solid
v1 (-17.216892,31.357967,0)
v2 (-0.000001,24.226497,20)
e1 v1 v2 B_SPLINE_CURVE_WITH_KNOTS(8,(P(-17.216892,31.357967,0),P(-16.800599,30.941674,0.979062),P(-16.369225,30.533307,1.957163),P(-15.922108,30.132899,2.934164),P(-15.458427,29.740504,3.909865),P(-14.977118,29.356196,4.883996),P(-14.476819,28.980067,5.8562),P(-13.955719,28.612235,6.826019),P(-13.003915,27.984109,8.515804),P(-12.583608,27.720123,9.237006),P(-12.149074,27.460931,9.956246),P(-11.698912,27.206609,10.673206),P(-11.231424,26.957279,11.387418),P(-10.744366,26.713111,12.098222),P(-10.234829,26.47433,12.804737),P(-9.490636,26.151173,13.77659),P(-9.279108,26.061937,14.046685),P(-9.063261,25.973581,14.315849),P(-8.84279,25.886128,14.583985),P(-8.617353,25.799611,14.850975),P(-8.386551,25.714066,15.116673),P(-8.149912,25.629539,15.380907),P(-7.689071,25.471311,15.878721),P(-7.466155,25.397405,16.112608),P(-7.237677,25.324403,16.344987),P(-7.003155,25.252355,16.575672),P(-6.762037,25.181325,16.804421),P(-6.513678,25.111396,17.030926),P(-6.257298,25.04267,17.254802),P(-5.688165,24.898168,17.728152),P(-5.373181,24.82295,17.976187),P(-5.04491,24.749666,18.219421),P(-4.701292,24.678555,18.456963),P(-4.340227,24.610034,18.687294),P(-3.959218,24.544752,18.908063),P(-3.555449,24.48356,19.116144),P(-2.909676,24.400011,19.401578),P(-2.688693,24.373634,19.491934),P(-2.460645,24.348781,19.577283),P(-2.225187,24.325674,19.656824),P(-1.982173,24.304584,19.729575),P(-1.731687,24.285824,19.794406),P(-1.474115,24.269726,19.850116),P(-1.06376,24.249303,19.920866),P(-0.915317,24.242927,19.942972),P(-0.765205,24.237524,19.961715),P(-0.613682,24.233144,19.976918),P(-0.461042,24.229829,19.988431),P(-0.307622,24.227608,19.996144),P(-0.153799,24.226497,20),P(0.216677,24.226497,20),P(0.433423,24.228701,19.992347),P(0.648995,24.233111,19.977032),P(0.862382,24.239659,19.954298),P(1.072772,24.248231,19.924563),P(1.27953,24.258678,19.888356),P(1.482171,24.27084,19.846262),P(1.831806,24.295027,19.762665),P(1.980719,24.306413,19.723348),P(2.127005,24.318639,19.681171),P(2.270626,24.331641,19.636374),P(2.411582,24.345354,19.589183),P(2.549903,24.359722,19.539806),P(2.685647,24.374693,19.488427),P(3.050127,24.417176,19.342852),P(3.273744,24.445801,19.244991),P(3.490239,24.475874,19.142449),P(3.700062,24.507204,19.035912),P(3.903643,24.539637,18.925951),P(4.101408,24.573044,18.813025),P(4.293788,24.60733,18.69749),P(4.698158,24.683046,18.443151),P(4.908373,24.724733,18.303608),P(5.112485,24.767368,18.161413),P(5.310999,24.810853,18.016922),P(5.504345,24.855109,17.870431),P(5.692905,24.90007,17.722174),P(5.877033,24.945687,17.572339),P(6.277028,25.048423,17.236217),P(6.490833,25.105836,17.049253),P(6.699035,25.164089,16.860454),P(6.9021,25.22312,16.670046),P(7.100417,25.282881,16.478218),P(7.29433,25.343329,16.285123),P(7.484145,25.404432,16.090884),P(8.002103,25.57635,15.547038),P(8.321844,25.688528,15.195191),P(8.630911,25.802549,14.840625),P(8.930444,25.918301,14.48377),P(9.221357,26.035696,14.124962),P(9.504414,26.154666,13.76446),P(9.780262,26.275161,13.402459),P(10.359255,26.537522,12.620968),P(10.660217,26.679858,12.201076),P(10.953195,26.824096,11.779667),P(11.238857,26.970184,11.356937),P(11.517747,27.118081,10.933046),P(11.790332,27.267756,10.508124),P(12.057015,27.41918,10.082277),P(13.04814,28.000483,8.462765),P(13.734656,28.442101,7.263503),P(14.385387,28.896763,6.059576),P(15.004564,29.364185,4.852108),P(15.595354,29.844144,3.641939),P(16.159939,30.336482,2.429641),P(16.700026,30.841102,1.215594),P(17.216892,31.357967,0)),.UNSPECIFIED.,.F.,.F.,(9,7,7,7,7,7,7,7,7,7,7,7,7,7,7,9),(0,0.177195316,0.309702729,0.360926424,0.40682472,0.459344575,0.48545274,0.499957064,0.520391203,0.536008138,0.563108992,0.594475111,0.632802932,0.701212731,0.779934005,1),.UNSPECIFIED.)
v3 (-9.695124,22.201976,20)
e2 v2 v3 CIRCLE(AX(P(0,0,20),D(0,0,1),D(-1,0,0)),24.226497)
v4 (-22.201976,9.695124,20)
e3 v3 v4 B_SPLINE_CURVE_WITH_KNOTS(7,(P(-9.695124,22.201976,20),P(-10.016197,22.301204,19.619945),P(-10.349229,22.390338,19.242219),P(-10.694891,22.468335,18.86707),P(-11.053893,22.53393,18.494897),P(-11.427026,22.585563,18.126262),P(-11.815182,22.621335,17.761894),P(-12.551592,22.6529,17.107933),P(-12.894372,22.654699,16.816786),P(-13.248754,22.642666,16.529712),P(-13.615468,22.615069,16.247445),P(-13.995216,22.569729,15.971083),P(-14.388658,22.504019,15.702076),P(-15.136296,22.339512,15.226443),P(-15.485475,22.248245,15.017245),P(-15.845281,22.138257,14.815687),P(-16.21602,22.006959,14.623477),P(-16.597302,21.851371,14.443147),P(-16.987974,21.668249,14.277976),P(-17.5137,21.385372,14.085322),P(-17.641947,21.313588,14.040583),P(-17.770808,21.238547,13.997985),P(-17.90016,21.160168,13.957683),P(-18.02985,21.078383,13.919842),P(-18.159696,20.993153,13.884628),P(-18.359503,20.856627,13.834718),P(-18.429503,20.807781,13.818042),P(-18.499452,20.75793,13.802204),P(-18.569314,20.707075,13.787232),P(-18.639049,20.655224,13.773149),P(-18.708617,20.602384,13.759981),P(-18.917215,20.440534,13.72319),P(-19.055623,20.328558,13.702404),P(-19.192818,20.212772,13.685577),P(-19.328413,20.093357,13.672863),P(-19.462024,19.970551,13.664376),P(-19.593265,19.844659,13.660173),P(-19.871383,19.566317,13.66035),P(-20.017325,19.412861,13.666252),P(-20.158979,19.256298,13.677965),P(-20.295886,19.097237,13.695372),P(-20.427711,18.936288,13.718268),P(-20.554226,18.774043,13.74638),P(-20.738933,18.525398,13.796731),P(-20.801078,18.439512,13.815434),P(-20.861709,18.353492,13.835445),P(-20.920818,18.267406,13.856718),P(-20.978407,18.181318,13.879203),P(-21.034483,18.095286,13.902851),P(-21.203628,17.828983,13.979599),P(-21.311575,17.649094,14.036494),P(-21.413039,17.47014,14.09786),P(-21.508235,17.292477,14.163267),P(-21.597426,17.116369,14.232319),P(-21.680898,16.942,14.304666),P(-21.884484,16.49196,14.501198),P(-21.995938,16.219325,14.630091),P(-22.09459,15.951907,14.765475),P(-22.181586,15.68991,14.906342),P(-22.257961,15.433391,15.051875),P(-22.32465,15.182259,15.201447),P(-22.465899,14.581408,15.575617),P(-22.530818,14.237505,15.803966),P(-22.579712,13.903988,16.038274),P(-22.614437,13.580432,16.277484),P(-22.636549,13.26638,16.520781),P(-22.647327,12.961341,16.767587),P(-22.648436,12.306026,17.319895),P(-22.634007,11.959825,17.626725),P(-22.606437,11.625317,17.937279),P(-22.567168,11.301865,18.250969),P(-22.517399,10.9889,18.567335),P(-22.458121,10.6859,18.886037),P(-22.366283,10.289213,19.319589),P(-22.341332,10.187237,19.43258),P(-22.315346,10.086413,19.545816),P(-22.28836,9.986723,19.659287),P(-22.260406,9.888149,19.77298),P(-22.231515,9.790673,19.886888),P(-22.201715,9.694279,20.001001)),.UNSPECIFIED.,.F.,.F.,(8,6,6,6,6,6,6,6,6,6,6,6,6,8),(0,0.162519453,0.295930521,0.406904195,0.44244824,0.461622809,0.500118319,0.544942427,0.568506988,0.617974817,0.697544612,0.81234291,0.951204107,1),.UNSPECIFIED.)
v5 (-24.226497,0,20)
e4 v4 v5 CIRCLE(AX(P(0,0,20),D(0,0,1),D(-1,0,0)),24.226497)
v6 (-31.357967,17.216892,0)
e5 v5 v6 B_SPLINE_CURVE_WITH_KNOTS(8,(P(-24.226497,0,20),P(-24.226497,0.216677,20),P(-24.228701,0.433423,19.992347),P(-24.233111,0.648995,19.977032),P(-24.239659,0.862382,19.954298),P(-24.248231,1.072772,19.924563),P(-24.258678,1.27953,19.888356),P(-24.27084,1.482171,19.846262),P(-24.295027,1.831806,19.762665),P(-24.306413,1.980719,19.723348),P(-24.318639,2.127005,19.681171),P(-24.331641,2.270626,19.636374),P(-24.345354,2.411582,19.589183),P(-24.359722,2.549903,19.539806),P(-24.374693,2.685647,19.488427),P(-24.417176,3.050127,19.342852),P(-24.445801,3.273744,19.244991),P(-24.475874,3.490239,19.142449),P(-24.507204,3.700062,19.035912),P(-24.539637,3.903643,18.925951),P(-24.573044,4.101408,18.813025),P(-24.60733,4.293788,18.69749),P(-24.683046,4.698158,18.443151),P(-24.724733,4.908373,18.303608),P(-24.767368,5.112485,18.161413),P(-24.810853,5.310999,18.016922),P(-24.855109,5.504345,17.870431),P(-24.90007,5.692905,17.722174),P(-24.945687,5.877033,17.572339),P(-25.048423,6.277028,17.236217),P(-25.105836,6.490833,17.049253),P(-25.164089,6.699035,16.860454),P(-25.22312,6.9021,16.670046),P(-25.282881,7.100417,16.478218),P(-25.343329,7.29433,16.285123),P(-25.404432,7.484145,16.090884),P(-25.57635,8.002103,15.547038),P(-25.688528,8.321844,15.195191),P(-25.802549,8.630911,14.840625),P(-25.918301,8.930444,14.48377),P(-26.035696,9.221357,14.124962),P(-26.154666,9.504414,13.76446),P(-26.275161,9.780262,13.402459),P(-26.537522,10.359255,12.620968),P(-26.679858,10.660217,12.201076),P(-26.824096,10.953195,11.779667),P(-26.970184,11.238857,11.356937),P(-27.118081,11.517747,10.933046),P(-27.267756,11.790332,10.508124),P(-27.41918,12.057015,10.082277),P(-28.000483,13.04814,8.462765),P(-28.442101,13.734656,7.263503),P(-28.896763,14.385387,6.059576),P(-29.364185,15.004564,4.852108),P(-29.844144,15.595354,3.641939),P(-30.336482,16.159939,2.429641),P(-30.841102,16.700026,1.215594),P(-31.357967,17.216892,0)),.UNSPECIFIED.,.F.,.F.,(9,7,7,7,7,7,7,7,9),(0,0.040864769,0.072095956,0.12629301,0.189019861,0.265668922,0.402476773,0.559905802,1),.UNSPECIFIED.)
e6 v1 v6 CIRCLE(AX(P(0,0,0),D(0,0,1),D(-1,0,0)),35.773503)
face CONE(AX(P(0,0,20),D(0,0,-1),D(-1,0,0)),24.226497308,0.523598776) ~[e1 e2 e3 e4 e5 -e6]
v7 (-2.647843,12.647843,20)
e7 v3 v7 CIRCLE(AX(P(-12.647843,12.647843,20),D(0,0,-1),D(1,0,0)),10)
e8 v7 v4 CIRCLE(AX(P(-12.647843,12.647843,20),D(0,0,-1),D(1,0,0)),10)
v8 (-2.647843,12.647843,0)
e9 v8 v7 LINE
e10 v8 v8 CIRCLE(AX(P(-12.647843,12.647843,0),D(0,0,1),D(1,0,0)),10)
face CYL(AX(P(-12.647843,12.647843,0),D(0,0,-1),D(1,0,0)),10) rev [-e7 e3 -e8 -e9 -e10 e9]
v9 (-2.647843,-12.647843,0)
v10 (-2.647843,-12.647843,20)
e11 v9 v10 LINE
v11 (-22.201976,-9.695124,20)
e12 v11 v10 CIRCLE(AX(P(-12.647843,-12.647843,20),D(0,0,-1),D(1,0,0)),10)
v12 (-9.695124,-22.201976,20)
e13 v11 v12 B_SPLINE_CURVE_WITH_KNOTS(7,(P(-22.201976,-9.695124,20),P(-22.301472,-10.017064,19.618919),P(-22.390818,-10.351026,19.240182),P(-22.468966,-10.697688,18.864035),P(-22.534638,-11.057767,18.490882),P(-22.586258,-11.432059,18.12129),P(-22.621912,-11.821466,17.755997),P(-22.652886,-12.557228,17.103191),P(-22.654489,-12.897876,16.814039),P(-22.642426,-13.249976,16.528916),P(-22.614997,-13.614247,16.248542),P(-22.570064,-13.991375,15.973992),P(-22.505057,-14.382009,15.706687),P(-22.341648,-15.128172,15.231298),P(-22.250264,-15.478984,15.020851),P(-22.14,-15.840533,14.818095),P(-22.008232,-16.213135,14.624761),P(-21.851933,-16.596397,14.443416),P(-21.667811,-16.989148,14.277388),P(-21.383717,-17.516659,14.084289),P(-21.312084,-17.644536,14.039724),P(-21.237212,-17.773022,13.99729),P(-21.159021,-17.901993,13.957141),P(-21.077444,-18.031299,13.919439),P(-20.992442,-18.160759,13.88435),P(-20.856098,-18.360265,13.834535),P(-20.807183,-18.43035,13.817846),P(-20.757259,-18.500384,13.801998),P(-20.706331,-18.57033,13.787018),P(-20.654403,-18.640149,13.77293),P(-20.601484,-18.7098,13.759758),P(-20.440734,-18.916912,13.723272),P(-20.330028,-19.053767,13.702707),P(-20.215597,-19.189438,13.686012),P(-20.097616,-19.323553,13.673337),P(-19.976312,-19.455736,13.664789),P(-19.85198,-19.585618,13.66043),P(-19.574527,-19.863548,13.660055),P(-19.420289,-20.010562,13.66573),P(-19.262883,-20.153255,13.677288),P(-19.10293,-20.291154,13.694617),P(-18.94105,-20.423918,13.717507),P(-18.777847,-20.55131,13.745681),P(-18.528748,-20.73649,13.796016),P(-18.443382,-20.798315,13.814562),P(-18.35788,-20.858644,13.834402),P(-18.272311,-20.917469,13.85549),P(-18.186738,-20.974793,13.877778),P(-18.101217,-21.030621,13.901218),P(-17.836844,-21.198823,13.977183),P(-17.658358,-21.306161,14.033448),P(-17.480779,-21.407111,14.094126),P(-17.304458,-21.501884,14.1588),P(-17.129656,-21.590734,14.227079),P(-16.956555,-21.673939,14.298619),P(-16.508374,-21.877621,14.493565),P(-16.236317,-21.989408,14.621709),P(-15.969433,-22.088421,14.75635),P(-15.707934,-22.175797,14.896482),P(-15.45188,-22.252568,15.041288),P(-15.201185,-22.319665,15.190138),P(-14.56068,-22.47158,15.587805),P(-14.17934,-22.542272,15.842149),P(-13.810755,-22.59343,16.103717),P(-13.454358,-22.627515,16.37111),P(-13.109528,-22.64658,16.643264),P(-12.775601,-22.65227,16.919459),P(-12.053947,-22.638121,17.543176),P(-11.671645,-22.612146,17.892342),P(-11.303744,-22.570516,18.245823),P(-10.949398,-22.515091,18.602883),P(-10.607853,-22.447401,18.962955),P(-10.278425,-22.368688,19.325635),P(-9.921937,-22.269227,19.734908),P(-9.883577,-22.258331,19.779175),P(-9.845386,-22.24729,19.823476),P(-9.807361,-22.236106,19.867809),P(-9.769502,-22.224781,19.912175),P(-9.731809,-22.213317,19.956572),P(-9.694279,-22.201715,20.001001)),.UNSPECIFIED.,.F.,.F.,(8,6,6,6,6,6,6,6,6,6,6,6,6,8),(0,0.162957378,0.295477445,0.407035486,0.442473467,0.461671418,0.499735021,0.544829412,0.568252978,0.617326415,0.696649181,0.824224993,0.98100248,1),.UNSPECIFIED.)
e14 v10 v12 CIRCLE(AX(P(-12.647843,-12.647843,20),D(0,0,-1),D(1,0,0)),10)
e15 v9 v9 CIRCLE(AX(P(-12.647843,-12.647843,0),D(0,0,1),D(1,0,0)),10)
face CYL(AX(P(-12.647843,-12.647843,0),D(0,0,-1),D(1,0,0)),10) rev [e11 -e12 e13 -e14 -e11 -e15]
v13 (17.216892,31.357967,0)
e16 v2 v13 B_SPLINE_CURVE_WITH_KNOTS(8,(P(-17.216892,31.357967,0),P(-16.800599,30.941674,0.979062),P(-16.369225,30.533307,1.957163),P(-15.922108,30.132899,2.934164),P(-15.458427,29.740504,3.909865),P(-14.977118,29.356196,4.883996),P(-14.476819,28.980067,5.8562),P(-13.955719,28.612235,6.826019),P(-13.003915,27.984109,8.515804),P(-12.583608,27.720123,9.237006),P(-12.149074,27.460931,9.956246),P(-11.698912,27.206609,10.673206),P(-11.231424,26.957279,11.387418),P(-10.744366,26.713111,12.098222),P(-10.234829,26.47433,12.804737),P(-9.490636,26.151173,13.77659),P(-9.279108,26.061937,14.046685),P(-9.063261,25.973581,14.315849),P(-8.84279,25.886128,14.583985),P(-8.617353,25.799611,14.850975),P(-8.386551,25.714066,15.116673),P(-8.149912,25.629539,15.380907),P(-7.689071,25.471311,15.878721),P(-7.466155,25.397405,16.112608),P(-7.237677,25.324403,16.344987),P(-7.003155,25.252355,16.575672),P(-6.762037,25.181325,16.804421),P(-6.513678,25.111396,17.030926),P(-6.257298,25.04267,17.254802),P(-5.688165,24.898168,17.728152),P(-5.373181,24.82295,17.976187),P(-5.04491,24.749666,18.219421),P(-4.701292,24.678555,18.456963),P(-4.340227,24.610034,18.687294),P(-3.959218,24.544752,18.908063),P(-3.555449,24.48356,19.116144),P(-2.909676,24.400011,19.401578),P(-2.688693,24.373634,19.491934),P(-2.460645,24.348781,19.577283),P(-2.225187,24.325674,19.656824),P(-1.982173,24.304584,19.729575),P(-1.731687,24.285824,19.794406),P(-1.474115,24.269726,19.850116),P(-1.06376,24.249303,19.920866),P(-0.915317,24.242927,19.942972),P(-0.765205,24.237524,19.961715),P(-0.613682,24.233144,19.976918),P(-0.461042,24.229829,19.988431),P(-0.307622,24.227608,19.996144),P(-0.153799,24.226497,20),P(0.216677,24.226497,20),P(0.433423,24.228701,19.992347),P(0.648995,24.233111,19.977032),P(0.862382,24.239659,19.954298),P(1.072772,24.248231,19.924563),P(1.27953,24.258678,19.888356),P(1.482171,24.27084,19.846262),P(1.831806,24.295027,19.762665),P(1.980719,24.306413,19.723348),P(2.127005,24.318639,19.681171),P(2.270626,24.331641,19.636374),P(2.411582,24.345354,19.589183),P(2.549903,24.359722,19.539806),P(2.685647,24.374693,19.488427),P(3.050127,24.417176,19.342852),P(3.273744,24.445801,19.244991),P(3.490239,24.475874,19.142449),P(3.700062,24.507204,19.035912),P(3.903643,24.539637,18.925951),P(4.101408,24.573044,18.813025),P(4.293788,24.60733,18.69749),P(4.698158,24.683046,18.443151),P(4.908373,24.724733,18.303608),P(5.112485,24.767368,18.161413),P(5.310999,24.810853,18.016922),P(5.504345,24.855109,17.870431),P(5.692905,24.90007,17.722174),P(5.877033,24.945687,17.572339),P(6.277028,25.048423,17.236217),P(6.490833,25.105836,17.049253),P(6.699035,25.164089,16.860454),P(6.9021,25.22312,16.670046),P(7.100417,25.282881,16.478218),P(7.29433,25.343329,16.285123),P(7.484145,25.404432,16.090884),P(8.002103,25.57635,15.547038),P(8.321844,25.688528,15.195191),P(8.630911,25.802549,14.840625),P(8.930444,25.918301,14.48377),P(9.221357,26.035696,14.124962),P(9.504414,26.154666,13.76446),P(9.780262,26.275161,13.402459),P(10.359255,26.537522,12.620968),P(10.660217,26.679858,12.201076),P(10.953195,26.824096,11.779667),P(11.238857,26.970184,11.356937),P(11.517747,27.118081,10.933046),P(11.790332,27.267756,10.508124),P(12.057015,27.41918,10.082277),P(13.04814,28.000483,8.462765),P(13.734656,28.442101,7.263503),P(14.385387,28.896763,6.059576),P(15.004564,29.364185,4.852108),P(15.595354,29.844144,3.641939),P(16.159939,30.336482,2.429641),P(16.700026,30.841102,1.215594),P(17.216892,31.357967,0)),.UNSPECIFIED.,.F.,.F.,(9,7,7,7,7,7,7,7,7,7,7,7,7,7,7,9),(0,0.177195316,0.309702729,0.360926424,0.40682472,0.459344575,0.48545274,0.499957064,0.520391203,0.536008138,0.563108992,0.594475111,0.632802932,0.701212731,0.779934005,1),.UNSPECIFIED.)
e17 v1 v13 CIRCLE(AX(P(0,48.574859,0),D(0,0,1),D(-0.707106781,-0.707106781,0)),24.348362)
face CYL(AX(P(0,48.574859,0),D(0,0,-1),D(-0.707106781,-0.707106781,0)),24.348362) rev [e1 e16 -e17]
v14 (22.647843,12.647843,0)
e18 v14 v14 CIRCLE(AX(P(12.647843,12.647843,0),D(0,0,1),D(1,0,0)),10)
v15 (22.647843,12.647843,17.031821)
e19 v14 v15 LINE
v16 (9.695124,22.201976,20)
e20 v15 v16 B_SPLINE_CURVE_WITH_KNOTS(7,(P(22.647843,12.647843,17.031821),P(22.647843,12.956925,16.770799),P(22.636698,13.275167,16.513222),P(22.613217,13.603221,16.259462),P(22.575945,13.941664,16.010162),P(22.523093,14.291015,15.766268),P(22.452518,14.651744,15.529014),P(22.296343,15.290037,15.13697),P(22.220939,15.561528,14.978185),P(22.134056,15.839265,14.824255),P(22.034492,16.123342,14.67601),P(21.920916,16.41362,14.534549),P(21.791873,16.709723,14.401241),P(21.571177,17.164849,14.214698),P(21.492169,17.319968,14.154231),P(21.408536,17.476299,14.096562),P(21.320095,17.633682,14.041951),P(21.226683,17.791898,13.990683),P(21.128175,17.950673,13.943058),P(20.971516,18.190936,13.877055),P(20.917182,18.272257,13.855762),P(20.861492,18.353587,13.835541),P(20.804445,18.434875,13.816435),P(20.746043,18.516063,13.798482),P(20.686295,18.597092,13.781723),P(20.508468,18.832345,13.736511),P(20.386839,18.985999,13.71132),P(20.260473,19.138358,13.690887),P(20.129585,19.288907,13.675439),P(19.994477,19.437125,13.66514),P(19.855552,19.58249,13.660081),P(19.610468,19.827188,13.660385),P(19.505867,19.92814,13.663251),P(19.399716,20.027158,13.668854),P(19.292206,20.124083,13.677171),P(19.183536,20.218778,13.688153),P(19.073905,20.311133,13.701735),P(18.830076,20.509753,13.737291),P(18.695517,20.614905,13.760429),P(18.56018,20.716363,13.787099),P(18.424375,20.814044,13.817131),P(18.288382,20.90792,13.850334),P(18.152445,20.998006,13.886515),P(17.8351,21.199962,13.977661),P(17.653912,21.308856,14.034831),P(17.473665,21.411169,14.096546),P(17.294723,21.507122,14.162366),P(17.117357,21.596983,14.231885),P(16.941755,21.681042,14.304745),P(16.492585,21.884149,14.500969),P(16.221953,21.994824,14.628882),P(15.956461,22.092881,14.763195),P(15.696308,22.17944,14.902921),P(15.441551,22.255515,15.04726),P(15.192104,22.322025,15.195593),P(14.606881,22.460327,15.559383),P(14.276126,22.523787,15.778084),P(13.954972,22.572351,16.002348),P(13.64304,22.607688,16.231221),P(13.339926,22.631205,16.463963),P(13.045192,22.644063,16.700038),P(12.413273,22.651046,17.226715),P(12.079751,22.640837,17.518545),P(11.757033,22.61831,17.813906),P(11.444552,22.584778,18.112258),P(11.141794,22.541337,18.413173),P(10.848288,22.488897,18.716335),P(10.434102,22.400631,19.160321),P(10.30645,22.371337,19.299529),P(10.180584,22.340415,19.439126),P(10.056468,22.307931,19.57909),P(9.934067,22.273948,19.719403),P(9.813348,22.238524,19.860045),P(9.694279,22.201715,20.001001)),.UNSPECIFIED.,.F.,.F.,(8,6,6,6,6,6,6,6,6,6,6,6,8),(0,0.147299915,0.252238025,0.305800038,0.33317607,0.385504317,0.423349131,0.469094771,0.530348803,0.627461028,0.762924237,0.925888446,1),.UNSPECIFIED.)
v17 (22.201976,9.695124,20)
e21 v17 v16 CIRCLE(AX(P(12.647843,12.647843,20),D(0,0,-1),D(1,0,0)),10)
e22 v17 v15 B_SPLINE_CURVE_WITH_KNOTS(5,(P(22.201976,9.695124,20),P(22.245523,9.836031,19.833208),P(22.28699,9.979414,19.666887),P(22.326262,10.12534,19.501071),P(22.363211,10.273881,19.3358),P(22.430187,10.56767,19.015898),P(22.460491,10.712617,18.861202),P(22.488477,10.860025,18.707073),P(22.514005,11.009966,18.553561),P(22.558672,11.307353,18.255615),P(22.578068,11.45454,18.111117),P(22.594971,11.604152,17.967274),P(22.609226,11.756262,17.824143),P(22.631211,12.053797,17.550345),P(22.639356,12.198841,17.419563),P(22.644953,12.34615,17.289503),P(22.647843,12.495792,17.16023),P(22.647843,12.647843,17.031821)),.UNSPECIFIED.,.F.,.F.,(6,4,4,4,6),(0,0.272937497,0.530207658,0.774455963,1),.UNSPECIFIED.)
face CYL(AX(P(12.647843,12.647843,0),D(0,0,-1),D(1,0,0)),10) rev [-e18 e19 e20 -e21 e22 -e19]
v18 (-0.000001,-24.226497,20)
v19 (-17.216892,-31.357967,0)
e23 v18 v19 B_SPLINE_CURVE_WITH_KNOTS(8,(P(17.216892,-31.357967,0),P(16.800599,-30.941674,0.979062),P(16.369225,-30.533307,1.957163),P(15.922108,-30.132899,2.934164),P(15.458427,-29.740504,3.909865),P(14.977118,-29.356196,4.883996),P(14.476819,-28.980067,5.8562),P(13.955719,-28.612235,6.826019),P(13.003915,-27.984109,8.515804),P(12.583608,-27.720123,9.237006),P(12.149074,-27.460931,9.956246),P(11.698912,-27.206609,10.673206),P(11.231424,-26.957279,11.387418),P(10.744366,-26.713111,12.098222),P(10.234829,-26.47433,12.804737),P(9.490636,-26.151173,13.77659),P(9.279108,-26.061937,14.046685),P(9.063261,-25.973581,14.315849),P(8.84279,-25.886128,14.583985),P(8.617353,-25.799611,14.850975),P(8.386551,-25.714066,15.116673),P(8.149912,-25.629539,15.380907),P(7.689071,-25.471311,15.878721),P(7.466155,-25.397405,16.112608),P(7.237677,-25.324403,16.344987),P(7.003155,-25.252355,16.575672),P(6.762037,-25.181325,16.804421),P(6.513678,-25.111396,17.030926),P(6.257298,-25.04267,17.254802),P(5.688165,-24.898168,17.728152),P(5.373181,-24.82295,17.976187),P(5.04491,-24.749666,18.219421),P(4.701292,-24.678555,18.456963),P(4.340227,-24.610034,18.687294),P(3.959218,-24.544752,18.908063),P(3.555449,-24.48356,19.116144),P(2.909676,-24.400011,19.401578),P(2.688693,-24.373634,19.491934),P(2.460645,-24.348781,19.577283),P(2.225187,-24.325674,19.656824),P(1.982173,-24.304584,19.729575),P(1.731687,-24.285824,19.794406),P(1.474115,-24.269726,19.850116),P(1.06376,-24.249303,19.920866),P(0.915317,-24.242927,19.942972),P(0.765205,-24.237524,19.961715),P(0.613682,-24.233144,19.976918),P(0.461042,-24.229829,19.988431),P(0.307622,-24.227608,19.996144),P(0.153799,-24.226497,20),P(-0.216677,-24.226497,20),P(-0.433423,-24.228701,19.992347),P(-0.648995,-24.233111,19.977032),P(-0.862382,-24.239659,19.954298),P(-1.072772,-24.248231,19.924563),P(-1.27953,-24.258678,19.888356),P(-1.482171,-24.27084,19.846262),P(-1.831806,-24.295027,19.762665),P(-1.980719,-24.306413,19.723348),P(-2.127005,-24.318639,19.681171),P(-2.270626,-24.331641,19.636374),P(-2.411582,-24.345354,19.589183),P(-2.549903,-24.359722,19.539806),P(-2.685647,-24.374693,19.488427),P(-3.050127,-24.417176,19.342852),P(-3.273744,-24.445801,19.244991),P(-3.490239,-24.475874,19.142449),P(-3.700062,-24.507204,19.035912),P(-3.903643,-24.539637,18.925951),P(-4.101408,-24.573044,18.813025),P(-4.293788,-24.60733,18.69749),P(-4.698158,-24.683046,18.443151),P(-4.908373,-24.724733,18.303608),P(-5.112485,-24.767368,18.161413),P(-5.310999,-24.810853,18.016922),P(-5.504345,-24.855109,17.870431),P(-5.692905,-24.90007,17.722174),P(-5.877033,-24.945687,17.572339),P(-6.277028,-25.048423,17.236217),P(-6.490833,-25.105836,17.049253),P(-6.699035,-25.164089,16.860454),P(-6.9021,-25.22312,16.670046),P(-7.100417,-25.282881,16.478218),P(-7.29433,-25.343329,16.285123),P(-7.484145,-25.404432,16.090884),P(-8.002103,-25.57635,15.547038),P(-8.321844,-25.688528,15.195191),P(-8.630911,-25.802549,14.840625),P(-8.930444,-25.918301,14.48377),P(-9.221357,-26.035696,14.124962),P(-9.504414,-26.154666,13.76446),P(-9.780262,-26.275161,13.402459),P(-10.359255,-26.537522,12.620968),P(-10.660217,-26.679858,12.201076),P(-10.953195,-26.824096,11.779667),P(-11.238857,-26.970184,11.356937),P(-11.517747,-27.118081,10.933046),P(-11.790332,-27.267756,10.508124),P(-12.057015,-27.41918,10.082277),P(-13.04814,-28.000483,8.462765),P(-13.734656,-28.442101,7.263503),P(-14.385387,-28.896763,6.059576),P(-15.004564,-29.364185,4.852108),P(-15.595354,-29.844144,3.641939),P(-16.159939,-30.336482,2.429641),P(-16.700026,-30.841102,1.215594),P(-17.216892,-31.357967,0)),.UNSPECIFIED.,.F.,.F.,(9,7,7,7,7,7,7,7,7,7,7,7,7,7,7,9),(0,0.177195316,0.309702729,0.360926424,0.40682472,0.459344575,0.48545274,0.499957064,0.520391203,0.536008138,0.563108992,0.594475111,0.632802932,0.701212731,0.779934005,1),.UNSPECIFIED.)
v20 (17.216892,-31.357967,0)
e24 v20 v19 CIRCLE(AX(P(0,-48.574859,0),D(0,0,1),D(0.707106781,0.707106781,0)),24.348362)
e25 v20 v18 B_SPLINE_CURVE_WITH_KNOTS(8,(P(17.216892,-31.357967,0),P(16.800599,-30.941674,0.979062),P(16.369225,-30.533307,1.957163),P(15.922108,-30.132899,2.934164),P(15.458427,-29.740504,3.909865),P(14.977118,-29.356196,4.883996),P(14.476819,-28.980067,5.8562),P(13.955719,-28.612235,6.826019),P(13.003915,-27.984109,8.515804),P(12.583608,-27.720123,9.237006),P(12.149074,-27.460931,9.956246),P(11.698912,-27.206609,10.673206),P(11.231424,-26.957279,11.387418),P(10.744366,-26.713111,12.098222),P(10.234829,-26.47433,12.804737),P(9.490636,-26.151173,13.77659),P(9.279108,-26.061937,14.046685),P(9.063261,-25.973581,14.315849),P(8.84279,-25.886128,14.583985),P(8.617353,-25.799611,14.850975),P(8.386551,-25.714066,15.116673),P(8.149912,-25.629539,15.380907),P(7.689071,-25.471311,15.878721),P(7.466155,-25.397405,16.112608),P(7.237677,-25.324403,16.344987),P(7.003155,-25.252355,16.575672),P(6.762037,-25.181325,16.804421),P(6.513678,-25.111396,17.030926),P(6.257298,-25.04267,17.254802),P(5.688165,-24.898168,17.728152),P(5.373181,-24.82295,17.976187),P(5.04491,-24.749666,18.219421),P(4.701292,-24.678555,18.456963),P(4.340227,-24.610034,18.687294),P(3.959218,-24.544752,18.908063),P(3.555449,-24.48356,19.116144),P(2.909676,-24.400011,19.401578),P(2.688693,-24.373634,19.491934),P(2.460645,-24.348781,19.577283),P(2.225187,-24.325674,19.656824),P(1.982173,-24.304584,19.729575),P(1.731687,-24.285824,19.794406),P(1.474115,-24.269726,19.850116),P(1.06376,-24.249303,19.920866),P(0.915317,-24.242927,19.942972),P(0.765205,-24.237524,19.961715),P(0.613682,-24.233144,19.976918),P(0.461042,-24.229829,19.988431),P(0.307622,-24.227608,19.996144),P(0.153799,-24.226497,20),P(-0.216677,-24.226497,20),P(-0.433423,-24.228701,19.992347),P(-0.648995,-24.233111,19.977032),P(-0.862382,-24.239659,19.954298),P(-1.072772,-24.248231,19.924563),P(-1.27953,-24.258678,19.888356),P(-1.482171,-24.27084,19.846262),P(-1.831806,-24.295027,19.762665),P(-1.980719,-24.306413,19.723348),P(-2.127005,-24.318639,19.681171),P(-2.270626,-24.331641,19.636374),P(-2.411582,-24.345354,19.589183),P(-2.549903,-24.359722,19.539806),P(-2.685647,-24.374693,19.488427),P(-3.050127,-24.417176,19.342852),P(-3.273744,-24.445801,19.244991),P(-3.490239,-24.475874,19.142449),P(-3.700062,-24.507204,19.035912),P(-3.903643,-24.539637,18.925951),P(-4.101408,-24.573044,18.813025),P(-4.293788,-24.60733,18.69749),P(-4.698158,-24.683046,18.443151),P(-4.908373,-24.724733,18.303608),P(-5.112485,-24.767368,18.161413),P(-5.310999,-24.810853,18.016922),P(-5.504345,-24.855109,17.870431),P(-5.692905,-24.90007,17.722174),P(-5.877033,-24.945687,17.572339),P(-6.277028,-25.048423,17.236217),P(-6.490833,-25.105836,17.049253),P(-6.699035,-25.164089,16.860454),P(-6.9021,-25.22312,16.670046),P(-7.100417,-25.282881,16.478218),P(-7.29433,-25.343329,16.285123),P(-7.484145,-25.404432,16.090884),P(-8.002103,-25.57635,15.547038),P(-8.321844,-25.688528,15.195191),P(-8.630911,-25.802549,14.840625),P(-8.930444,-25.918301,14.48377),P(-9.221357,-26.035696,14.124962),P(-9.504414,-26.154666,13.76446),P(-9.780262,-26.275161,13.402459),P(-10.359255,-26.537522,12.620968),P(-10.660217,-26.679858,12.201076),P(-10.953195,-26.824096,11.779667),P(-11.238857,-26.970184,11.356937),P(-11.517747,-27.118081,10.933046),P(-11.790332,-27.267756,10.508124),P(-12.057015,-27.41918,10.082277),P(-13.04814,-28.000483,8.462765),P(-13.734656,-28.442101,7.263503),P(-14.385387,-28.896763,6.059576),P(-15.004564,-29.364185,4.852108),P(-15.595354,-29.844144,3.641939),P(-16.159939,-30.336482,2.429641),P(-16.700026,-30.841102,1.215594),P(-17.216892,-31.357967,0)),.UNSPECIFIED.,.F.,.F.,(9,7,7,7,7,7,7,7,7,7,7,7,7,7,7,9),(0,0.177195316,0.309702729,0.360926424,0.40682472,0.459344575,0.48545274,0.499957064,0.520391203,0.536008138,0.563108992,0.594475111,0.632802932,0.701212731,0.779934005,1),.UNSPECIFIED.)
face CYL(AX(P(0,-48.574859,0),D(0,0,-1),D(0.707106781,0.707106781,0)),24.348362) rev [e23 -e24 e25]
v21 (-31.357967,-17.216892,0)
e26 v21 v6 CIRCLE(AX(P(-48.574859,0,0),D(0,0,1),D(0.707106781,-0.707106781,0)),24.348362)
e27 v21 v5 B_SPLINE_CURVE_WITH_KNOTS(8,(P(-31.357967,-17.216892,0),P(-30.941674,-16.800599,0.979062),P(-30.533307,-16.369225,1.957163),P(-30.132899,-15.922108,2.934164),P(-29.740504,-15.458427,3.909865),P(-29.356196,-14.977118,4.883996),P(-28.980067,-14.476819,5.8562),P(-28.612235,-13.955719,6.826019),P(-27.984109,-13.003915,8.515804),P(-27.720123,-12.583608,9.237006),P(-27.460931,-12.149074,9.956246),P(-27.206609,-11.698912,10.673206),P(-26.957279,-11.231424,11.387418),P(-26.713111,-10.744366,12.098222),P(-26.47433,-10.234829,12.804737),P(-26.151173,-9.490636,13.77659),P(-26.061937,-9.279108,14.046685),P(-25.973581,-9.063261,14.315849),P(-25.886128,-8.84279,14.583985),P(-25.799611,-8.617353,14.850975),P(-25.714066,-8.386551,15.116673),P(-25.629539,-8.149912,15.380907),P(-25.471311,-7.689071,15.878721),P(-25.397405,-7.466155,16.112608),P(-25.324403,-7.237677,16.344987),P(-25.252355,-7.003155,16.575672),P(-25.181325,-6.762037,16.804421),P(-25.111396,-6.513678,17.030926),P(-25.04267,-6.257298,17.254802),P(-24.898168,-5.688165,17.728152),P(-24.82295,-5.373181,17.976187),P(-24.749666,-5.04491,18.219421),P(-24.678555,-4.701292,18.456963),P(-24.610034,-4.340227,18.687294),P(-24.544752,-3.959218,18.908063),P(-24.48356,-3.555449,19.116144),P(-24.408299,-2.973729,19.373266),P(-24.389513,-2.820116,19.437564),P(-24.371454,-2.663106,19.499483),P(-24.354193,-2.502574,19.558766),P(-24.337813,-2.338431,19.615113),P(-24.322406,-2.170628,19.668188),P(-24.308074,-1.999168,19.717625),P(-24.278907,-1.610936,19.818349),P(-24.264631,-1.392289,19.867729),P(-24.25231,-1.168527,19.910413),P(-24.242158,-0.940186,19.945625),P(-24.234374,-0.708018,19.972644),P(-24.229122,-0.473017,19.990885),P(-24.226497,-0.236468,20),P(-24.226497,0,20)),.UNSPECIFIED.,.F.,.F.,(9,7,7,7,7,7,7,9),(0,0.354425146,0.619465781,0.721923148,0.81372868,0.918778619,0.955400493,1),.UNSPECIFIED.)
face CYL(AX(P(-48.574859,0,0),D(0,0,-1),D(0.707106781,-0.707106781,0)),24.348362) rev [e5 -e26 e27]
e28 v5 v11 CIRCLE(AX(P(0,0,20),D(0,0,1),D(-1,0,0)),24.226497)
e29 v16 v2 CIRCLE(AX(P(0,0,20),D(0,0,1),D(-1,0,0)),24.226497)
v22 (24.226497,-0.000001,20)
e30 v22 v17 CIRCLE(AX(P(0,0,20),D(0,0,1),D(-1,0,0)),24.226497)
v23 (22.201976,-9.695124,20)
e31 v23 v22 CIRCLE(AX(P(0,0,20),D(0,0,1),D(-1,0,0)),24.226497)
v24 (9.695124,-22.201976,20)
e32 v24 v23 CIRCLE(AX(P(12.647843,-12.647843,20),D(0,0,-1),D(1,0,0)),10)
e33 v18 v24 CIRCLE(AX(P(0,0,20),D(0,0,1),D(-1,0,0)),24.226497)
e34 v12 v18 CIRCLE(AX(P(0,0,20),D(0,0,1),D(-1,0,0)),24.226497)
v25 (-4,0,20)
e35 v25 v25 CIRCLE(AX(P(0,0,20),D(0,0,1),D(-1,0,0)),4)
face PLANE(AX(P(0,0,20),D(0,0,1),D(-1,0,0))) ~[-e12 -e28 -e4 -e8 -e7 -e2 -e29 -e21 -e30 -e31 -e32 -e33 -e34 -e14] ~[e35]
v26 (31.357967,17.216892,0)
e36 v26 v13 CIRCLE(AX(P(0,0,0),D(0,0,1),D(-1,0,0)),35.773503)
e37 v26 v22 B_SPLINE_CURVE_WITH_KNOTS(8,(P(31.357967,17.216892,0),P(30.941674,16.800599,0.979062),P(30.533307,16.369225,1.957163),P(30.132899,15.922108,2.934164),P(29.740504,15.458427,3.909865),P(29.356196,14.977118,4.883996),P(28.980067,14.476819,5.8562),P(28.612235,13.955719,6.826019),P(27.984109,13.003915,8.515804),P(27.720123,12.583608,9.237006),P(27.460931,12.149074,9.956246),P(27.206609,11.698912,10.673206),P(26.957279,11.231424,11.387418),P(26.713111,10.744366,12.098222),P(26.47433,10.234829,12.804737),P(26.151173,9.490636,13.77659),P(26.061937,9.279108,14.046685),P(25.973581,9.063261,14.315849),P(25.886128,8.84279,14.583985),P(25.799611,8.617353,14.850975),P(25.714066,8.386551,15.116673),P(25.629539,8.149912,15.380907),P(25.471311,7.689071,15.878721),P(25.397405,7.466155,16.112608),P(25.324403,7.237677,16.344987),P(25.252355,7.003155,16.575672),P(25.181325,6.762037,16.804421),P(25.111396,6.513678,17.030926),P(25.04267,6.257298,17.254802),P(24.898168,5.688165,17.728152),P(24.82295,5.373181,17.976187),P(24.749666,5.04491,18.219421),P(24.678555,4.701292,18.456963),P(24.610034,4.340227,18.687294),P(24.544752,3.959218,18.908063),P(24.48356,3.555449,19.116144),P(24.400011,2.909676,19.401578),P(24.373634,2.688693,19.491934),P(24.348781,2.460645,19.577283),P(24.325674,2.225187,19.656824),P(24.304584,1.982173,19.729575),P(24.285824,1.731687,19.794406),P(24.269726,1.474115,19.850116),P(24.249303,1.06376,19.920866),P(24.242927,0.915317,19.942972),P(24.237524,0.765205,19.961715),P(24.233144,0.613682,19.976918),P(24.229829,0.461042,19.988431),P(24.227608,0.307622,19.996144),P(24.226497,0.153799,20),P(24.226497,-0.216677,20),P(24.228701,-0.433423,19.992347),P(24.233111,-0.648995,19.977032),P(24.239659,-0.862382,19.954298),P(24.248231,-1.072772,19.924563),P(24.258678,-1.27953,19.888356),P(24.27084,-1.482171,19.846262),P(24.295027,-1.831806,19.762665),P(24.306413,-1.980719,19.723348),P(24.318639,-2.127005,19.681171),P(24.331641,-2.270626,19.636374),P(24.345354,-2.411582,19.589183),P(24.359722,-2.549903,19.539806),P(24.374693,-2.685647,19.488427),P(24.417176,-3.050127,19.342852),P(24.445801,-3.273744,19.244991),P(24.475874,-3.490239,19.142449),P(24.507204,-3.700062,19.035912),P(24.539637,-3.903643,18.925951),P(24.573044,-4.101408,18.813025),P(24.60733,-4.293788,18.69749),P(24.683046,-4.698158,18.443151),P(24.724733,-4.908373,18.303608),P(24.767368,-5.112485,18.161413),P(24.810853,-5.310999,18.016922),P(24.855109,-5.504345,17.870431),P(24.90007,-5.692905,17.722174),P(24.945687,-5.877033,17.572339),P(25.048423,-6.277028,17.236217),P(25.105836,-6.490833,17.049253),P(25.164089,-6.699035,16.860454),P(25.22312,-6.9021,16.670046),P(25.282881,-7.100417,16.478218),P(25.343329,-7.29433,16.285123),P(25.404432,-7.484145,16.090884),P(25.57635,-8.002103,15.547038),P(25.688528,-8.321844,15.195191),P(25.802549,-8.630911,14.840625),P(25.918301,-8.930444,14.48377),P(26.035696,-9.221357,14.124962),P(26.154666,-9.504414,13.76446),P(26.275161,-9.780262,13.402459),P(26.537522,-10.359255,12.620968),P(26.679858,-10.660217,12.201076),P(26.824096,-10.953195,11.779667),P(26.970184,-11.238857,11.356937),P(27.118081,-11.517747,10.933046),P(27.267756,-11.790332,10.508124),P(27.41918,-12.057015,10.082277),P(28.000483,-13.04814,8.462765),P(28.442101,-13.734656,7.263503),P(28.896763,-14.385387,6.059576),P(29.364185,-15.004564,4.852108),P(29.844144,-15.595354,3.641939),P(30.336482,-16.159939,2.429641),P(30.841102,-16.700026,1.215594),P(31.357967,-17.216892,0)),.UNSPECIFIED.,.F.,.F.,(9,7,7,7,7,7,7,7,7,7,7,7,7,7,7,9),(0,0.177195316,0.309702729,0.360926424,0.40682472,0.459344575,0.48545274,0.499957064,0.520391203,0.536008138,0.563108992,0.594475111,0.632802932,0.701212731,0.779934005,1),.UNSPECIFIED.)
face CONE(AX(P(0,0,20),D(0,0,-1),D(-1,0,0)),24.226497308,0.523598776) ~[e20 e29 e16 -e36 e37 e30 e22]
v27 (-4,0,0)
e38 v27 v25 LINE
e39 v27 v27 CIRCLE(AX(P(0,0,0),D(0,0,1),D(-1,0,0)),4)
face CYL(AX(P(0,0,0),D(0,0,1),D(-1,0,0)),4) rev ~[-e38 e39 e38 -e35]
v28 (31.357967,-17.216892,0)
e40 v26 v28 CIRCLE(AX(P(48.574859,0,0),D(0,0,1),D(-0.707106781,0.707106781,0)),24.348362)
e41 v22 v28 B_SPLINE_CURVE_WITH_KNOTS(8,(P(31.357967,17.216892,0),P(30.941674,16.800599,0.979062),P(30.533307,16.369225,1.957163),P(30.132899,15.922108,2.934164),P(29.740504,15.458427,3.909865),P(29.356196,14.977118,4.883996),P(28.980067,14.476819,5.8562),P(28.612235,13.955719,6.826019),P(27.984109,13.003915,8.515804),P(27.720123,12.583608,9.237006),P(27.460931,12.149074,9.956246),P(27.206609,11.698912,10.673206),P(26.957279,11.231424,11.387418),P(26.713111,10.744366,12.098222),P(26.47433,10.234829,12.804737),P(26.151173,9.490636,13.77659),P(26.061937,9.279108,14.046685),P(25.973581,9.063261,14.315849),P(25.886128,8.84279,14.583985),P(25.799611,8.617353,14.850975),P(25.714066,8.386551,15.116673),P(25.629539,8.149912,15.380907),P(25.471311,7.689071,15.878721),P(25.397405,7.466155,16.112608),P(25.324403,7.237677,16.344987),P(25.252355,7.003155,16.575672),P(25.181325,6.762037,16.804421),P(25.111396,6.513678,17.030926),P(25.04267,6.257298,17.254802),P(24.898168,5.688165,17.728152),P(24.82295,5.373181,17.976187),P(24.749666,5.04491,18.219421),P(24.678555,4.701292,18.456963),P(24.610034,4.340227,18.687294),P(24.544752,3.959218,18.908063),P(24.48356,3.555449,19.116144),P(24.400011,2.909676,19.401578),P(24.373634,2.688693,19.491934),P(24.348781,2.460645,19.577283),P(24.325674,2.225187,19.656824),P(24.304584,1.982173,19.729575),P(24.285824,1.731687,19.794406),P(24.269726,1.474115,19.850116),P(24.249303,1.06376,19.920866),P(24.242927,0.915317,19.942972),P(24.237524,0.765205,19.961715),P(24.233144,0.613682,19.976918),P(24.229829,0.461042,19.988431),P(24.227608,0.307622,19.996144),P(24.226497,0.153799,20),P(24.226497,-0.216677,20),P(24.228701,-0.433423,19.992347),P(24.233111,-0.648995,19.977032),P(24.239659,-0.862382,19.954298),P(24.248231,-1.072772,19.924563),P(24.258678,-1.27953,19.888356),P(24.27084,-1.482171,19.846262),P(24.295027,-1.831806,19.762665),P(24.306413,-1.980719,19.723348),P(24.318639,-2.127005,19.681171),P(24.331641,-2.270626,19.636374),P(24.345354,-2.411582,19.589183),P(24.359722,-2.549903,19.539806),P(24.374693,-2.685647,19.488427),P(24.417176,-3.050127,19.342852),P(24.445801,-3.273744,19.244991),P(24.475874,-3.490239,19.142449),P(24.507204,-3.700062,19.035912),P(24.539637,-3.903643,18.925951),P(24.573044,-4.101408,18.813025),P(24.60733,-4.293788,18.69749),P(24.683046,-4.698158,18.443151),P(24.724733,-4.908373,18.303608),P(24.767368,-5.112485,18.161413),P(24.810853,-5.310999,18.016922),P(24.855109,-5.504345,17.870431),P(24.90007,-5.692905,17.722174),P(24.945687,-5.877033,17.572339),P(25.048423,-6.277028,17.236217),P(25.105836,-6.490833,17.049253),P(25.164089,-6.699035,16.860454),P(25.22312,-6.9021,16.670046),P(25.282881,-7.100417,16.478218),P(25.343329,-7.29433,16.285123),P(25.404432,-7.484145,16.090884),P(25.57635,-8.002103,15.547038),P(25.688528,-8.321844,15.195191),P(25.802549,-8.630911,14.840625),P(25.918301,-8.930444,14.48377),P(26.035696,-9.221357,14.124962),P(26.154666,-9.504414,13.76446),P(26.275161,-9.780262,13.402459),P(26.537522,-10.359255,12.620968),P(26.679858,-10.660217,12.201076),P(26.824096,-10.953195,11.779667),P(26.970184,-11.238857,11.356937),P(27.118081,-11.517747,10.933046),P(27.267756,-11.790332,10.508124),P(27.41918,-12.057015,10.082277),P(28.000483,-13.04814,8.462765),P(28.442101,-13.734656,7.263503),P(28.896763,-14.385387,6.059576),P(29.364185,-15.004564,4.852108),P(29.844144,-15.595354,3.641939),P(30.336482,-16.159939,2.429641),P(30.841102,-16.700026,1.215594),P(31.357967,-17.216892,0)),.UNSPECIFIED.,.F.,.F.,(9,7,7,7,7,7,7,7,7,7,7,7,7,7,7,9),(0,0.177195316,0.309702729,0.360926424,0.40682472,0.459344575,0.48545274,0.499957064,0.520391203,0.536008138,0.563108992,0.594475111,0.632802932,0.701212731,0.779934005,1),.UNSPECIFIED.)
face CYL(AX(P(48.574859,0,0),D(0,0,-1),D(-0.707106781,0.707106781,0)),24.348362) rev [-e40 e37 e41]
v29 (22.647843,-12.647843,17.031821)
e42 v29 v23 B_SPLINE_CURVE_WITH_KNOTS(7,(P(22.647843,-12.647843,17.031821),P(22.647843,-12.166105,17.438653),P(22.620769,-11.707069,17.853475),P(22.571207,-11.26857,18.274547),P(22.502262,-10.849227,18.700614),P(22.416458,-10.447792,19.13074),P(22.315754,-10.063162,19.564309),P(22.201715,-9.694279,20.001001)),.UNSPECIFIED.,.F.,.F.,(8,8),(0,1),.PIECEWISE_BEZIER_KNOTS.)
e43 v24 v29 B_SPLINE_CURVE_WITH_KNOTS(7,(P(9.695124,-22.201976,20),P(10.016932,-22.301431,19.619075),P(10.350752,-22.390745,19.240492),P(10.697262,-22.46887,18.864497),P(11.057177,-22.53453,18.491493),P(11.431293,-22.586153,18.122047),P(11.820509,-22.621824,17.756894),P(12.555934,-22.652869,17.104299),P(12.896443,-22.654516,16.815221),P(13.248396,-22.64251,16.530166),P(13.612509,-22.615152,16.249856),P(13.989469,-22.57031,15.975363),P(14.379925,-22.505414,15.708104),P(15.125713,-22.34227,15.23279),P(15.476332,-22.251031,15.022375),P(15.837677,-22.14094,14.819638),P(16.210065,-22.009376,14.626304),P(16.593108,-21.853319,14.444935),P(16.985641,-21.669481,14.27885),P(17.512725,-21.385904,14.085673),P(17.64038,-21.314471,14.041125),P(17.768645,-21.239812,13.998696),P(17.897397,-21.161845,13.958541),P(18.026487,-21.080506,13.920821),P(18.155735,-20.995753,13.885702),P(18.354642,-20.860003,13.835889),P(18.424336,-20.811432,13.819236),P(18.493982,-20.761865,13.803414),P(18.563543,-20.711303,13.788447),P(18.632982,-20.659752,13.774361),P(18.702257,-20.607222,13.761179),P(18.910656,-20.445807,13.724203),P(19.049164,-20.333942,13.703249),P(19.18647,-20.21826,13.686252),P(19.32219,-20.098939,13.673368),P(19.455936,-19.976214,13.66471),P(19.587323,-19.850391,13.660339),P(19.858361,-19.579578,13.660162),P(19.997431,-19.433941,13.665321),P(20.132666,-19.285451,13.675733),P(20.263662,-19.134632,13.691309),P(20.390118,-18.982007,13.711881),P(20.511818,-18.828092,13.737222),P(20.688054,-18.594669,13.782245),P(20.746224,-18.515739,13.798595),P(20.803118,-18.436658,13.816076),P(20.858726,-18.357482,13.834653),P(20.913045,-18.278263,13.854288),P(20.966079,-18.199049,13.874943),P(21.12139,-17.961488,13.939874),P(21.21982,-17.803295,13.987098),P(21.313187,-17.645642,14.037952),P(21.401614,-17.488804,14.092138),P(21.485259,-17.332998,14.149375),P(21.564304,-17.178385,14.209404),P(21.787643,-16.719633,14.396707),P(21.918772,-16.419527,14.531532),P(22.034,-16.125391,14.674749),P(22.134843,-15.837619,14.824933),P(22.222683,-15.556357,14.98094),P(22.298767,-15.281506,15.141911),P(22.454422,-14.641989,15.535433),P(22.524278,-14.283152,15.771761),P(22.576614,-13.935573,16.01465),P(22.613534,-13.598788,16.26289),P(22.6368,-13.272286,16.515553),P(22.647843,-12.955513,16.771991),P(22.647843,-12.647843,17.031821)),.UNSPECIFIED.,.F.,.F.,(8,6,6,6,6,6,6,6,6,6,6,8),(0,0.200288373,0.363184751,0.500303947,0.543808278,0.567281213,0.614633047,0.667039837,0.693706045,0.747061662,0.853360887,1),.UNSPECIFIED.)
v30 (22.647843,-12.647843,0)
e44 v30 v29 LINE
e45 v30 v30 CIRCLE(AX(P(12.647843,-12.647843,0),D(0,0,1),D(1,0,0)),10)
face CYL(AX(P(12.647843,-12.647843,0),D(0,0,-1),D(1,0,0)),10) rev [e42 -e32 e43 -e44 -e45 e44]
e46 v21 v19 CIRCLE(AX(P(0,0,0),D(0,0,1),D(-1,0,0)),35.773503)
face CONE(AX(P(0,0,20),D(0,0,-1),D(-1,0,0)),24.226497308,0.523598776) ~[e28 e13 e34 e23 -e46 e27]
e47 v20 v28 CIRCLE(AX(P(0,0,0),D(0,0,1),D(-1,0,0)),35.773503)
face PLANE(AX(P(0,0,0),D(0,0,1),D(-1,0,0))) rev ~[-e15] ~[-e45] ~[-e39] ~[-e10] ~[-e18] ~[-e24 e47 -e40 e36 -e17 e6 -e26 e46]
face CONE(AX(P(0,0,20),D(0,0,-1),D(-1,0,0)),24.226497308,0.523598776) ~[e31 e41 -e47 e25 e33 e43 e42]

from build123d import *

# Parameters (mm, degrees)
F3_DEPTH = 20.001
F4_R     = 10
F5_DEPTH = 20.0010001


with BuildPart() as f1:
    # F0 (on Front) → F1 (revolve)
    with BuildSketch(Plane.XZ):
        Polygon((-4, 0), (-4, 20), (-24.2264973081, 20), (-35.7735026919, 0), align=None)
    revolve(axis=Axis((0, 0, 10), (0, 0, 1)))

    # F2 (on Top) → F3 (cut, through all)
    with BuildSketch(Plane.XY):
        with BuildLine():
            ThreePointArc((-17.2168920075, 31.3579674795), (0, 24.2264973081), (17.2168920075, 31.3579674795))
            ThreePointArc((17.2168920075, 31.3579674795), (0, 35.7735026919), (-17.2168920075, 31.3579674795))
        make_face()
        with BuildLine():
            ThreePointArc((31.3579674795, -17.2168920075), (34.6520405524, -8.887045651), (35.7735026919, 0))
            ThreePointArc((35.7735026919, 0), (34.6520405524, 8.887045651), (31.3579674795, 17.2168920075))
            ThreePointArc((31.3579674795, 17.2168920075), (24.2264973081, 0), (31.3579674795, -17.2168920075))
        make_face()
        with BuildLine():
            ThreePointArc((-17.2168920075, -31.3579674795), (0, -35.7735026919), (17.2168920075, -31.3579674795))
            ThreePointArc((17.2168920075, -31.3579674795), (0, -24.2264973081), (-17.2168920075, -31.3579674795))
        make_face()
        with BuildLine():
            ThreePointArc((-31.3579674795, -17.2168920075), (-24.2264973081, 0), (-31.3579674795, 17.2168920075))
            ThreePointArc((-31.3579674795, 17.2168920075), (-35.7735026919, 0), (-31.3579674795, -17.2168920075))
        make_face()
    extrude(amount=F3_DEPTH, mode=Mode.SUBTRACT)

    # F4 (on Top) → F5 (cut, through all)
    with BuildSketch(Plane.XY):
        with Locations((-12.6478431701, -12.6478431701)):
            Circle(F4_R)
        with Locations((12.6478431701, -12.6478431701)):
            Circle(F4_R)
        with Locations((12.6478431701, 12.6478431701)):
            Circle(F4_R)
        with Locations((-12.6478431701, 12.6478431701)):
            Circle(F4_R)
    extrude(amount=F5_DEPTH, mode=Mode.SUBTRACT)


solid = f1.part
